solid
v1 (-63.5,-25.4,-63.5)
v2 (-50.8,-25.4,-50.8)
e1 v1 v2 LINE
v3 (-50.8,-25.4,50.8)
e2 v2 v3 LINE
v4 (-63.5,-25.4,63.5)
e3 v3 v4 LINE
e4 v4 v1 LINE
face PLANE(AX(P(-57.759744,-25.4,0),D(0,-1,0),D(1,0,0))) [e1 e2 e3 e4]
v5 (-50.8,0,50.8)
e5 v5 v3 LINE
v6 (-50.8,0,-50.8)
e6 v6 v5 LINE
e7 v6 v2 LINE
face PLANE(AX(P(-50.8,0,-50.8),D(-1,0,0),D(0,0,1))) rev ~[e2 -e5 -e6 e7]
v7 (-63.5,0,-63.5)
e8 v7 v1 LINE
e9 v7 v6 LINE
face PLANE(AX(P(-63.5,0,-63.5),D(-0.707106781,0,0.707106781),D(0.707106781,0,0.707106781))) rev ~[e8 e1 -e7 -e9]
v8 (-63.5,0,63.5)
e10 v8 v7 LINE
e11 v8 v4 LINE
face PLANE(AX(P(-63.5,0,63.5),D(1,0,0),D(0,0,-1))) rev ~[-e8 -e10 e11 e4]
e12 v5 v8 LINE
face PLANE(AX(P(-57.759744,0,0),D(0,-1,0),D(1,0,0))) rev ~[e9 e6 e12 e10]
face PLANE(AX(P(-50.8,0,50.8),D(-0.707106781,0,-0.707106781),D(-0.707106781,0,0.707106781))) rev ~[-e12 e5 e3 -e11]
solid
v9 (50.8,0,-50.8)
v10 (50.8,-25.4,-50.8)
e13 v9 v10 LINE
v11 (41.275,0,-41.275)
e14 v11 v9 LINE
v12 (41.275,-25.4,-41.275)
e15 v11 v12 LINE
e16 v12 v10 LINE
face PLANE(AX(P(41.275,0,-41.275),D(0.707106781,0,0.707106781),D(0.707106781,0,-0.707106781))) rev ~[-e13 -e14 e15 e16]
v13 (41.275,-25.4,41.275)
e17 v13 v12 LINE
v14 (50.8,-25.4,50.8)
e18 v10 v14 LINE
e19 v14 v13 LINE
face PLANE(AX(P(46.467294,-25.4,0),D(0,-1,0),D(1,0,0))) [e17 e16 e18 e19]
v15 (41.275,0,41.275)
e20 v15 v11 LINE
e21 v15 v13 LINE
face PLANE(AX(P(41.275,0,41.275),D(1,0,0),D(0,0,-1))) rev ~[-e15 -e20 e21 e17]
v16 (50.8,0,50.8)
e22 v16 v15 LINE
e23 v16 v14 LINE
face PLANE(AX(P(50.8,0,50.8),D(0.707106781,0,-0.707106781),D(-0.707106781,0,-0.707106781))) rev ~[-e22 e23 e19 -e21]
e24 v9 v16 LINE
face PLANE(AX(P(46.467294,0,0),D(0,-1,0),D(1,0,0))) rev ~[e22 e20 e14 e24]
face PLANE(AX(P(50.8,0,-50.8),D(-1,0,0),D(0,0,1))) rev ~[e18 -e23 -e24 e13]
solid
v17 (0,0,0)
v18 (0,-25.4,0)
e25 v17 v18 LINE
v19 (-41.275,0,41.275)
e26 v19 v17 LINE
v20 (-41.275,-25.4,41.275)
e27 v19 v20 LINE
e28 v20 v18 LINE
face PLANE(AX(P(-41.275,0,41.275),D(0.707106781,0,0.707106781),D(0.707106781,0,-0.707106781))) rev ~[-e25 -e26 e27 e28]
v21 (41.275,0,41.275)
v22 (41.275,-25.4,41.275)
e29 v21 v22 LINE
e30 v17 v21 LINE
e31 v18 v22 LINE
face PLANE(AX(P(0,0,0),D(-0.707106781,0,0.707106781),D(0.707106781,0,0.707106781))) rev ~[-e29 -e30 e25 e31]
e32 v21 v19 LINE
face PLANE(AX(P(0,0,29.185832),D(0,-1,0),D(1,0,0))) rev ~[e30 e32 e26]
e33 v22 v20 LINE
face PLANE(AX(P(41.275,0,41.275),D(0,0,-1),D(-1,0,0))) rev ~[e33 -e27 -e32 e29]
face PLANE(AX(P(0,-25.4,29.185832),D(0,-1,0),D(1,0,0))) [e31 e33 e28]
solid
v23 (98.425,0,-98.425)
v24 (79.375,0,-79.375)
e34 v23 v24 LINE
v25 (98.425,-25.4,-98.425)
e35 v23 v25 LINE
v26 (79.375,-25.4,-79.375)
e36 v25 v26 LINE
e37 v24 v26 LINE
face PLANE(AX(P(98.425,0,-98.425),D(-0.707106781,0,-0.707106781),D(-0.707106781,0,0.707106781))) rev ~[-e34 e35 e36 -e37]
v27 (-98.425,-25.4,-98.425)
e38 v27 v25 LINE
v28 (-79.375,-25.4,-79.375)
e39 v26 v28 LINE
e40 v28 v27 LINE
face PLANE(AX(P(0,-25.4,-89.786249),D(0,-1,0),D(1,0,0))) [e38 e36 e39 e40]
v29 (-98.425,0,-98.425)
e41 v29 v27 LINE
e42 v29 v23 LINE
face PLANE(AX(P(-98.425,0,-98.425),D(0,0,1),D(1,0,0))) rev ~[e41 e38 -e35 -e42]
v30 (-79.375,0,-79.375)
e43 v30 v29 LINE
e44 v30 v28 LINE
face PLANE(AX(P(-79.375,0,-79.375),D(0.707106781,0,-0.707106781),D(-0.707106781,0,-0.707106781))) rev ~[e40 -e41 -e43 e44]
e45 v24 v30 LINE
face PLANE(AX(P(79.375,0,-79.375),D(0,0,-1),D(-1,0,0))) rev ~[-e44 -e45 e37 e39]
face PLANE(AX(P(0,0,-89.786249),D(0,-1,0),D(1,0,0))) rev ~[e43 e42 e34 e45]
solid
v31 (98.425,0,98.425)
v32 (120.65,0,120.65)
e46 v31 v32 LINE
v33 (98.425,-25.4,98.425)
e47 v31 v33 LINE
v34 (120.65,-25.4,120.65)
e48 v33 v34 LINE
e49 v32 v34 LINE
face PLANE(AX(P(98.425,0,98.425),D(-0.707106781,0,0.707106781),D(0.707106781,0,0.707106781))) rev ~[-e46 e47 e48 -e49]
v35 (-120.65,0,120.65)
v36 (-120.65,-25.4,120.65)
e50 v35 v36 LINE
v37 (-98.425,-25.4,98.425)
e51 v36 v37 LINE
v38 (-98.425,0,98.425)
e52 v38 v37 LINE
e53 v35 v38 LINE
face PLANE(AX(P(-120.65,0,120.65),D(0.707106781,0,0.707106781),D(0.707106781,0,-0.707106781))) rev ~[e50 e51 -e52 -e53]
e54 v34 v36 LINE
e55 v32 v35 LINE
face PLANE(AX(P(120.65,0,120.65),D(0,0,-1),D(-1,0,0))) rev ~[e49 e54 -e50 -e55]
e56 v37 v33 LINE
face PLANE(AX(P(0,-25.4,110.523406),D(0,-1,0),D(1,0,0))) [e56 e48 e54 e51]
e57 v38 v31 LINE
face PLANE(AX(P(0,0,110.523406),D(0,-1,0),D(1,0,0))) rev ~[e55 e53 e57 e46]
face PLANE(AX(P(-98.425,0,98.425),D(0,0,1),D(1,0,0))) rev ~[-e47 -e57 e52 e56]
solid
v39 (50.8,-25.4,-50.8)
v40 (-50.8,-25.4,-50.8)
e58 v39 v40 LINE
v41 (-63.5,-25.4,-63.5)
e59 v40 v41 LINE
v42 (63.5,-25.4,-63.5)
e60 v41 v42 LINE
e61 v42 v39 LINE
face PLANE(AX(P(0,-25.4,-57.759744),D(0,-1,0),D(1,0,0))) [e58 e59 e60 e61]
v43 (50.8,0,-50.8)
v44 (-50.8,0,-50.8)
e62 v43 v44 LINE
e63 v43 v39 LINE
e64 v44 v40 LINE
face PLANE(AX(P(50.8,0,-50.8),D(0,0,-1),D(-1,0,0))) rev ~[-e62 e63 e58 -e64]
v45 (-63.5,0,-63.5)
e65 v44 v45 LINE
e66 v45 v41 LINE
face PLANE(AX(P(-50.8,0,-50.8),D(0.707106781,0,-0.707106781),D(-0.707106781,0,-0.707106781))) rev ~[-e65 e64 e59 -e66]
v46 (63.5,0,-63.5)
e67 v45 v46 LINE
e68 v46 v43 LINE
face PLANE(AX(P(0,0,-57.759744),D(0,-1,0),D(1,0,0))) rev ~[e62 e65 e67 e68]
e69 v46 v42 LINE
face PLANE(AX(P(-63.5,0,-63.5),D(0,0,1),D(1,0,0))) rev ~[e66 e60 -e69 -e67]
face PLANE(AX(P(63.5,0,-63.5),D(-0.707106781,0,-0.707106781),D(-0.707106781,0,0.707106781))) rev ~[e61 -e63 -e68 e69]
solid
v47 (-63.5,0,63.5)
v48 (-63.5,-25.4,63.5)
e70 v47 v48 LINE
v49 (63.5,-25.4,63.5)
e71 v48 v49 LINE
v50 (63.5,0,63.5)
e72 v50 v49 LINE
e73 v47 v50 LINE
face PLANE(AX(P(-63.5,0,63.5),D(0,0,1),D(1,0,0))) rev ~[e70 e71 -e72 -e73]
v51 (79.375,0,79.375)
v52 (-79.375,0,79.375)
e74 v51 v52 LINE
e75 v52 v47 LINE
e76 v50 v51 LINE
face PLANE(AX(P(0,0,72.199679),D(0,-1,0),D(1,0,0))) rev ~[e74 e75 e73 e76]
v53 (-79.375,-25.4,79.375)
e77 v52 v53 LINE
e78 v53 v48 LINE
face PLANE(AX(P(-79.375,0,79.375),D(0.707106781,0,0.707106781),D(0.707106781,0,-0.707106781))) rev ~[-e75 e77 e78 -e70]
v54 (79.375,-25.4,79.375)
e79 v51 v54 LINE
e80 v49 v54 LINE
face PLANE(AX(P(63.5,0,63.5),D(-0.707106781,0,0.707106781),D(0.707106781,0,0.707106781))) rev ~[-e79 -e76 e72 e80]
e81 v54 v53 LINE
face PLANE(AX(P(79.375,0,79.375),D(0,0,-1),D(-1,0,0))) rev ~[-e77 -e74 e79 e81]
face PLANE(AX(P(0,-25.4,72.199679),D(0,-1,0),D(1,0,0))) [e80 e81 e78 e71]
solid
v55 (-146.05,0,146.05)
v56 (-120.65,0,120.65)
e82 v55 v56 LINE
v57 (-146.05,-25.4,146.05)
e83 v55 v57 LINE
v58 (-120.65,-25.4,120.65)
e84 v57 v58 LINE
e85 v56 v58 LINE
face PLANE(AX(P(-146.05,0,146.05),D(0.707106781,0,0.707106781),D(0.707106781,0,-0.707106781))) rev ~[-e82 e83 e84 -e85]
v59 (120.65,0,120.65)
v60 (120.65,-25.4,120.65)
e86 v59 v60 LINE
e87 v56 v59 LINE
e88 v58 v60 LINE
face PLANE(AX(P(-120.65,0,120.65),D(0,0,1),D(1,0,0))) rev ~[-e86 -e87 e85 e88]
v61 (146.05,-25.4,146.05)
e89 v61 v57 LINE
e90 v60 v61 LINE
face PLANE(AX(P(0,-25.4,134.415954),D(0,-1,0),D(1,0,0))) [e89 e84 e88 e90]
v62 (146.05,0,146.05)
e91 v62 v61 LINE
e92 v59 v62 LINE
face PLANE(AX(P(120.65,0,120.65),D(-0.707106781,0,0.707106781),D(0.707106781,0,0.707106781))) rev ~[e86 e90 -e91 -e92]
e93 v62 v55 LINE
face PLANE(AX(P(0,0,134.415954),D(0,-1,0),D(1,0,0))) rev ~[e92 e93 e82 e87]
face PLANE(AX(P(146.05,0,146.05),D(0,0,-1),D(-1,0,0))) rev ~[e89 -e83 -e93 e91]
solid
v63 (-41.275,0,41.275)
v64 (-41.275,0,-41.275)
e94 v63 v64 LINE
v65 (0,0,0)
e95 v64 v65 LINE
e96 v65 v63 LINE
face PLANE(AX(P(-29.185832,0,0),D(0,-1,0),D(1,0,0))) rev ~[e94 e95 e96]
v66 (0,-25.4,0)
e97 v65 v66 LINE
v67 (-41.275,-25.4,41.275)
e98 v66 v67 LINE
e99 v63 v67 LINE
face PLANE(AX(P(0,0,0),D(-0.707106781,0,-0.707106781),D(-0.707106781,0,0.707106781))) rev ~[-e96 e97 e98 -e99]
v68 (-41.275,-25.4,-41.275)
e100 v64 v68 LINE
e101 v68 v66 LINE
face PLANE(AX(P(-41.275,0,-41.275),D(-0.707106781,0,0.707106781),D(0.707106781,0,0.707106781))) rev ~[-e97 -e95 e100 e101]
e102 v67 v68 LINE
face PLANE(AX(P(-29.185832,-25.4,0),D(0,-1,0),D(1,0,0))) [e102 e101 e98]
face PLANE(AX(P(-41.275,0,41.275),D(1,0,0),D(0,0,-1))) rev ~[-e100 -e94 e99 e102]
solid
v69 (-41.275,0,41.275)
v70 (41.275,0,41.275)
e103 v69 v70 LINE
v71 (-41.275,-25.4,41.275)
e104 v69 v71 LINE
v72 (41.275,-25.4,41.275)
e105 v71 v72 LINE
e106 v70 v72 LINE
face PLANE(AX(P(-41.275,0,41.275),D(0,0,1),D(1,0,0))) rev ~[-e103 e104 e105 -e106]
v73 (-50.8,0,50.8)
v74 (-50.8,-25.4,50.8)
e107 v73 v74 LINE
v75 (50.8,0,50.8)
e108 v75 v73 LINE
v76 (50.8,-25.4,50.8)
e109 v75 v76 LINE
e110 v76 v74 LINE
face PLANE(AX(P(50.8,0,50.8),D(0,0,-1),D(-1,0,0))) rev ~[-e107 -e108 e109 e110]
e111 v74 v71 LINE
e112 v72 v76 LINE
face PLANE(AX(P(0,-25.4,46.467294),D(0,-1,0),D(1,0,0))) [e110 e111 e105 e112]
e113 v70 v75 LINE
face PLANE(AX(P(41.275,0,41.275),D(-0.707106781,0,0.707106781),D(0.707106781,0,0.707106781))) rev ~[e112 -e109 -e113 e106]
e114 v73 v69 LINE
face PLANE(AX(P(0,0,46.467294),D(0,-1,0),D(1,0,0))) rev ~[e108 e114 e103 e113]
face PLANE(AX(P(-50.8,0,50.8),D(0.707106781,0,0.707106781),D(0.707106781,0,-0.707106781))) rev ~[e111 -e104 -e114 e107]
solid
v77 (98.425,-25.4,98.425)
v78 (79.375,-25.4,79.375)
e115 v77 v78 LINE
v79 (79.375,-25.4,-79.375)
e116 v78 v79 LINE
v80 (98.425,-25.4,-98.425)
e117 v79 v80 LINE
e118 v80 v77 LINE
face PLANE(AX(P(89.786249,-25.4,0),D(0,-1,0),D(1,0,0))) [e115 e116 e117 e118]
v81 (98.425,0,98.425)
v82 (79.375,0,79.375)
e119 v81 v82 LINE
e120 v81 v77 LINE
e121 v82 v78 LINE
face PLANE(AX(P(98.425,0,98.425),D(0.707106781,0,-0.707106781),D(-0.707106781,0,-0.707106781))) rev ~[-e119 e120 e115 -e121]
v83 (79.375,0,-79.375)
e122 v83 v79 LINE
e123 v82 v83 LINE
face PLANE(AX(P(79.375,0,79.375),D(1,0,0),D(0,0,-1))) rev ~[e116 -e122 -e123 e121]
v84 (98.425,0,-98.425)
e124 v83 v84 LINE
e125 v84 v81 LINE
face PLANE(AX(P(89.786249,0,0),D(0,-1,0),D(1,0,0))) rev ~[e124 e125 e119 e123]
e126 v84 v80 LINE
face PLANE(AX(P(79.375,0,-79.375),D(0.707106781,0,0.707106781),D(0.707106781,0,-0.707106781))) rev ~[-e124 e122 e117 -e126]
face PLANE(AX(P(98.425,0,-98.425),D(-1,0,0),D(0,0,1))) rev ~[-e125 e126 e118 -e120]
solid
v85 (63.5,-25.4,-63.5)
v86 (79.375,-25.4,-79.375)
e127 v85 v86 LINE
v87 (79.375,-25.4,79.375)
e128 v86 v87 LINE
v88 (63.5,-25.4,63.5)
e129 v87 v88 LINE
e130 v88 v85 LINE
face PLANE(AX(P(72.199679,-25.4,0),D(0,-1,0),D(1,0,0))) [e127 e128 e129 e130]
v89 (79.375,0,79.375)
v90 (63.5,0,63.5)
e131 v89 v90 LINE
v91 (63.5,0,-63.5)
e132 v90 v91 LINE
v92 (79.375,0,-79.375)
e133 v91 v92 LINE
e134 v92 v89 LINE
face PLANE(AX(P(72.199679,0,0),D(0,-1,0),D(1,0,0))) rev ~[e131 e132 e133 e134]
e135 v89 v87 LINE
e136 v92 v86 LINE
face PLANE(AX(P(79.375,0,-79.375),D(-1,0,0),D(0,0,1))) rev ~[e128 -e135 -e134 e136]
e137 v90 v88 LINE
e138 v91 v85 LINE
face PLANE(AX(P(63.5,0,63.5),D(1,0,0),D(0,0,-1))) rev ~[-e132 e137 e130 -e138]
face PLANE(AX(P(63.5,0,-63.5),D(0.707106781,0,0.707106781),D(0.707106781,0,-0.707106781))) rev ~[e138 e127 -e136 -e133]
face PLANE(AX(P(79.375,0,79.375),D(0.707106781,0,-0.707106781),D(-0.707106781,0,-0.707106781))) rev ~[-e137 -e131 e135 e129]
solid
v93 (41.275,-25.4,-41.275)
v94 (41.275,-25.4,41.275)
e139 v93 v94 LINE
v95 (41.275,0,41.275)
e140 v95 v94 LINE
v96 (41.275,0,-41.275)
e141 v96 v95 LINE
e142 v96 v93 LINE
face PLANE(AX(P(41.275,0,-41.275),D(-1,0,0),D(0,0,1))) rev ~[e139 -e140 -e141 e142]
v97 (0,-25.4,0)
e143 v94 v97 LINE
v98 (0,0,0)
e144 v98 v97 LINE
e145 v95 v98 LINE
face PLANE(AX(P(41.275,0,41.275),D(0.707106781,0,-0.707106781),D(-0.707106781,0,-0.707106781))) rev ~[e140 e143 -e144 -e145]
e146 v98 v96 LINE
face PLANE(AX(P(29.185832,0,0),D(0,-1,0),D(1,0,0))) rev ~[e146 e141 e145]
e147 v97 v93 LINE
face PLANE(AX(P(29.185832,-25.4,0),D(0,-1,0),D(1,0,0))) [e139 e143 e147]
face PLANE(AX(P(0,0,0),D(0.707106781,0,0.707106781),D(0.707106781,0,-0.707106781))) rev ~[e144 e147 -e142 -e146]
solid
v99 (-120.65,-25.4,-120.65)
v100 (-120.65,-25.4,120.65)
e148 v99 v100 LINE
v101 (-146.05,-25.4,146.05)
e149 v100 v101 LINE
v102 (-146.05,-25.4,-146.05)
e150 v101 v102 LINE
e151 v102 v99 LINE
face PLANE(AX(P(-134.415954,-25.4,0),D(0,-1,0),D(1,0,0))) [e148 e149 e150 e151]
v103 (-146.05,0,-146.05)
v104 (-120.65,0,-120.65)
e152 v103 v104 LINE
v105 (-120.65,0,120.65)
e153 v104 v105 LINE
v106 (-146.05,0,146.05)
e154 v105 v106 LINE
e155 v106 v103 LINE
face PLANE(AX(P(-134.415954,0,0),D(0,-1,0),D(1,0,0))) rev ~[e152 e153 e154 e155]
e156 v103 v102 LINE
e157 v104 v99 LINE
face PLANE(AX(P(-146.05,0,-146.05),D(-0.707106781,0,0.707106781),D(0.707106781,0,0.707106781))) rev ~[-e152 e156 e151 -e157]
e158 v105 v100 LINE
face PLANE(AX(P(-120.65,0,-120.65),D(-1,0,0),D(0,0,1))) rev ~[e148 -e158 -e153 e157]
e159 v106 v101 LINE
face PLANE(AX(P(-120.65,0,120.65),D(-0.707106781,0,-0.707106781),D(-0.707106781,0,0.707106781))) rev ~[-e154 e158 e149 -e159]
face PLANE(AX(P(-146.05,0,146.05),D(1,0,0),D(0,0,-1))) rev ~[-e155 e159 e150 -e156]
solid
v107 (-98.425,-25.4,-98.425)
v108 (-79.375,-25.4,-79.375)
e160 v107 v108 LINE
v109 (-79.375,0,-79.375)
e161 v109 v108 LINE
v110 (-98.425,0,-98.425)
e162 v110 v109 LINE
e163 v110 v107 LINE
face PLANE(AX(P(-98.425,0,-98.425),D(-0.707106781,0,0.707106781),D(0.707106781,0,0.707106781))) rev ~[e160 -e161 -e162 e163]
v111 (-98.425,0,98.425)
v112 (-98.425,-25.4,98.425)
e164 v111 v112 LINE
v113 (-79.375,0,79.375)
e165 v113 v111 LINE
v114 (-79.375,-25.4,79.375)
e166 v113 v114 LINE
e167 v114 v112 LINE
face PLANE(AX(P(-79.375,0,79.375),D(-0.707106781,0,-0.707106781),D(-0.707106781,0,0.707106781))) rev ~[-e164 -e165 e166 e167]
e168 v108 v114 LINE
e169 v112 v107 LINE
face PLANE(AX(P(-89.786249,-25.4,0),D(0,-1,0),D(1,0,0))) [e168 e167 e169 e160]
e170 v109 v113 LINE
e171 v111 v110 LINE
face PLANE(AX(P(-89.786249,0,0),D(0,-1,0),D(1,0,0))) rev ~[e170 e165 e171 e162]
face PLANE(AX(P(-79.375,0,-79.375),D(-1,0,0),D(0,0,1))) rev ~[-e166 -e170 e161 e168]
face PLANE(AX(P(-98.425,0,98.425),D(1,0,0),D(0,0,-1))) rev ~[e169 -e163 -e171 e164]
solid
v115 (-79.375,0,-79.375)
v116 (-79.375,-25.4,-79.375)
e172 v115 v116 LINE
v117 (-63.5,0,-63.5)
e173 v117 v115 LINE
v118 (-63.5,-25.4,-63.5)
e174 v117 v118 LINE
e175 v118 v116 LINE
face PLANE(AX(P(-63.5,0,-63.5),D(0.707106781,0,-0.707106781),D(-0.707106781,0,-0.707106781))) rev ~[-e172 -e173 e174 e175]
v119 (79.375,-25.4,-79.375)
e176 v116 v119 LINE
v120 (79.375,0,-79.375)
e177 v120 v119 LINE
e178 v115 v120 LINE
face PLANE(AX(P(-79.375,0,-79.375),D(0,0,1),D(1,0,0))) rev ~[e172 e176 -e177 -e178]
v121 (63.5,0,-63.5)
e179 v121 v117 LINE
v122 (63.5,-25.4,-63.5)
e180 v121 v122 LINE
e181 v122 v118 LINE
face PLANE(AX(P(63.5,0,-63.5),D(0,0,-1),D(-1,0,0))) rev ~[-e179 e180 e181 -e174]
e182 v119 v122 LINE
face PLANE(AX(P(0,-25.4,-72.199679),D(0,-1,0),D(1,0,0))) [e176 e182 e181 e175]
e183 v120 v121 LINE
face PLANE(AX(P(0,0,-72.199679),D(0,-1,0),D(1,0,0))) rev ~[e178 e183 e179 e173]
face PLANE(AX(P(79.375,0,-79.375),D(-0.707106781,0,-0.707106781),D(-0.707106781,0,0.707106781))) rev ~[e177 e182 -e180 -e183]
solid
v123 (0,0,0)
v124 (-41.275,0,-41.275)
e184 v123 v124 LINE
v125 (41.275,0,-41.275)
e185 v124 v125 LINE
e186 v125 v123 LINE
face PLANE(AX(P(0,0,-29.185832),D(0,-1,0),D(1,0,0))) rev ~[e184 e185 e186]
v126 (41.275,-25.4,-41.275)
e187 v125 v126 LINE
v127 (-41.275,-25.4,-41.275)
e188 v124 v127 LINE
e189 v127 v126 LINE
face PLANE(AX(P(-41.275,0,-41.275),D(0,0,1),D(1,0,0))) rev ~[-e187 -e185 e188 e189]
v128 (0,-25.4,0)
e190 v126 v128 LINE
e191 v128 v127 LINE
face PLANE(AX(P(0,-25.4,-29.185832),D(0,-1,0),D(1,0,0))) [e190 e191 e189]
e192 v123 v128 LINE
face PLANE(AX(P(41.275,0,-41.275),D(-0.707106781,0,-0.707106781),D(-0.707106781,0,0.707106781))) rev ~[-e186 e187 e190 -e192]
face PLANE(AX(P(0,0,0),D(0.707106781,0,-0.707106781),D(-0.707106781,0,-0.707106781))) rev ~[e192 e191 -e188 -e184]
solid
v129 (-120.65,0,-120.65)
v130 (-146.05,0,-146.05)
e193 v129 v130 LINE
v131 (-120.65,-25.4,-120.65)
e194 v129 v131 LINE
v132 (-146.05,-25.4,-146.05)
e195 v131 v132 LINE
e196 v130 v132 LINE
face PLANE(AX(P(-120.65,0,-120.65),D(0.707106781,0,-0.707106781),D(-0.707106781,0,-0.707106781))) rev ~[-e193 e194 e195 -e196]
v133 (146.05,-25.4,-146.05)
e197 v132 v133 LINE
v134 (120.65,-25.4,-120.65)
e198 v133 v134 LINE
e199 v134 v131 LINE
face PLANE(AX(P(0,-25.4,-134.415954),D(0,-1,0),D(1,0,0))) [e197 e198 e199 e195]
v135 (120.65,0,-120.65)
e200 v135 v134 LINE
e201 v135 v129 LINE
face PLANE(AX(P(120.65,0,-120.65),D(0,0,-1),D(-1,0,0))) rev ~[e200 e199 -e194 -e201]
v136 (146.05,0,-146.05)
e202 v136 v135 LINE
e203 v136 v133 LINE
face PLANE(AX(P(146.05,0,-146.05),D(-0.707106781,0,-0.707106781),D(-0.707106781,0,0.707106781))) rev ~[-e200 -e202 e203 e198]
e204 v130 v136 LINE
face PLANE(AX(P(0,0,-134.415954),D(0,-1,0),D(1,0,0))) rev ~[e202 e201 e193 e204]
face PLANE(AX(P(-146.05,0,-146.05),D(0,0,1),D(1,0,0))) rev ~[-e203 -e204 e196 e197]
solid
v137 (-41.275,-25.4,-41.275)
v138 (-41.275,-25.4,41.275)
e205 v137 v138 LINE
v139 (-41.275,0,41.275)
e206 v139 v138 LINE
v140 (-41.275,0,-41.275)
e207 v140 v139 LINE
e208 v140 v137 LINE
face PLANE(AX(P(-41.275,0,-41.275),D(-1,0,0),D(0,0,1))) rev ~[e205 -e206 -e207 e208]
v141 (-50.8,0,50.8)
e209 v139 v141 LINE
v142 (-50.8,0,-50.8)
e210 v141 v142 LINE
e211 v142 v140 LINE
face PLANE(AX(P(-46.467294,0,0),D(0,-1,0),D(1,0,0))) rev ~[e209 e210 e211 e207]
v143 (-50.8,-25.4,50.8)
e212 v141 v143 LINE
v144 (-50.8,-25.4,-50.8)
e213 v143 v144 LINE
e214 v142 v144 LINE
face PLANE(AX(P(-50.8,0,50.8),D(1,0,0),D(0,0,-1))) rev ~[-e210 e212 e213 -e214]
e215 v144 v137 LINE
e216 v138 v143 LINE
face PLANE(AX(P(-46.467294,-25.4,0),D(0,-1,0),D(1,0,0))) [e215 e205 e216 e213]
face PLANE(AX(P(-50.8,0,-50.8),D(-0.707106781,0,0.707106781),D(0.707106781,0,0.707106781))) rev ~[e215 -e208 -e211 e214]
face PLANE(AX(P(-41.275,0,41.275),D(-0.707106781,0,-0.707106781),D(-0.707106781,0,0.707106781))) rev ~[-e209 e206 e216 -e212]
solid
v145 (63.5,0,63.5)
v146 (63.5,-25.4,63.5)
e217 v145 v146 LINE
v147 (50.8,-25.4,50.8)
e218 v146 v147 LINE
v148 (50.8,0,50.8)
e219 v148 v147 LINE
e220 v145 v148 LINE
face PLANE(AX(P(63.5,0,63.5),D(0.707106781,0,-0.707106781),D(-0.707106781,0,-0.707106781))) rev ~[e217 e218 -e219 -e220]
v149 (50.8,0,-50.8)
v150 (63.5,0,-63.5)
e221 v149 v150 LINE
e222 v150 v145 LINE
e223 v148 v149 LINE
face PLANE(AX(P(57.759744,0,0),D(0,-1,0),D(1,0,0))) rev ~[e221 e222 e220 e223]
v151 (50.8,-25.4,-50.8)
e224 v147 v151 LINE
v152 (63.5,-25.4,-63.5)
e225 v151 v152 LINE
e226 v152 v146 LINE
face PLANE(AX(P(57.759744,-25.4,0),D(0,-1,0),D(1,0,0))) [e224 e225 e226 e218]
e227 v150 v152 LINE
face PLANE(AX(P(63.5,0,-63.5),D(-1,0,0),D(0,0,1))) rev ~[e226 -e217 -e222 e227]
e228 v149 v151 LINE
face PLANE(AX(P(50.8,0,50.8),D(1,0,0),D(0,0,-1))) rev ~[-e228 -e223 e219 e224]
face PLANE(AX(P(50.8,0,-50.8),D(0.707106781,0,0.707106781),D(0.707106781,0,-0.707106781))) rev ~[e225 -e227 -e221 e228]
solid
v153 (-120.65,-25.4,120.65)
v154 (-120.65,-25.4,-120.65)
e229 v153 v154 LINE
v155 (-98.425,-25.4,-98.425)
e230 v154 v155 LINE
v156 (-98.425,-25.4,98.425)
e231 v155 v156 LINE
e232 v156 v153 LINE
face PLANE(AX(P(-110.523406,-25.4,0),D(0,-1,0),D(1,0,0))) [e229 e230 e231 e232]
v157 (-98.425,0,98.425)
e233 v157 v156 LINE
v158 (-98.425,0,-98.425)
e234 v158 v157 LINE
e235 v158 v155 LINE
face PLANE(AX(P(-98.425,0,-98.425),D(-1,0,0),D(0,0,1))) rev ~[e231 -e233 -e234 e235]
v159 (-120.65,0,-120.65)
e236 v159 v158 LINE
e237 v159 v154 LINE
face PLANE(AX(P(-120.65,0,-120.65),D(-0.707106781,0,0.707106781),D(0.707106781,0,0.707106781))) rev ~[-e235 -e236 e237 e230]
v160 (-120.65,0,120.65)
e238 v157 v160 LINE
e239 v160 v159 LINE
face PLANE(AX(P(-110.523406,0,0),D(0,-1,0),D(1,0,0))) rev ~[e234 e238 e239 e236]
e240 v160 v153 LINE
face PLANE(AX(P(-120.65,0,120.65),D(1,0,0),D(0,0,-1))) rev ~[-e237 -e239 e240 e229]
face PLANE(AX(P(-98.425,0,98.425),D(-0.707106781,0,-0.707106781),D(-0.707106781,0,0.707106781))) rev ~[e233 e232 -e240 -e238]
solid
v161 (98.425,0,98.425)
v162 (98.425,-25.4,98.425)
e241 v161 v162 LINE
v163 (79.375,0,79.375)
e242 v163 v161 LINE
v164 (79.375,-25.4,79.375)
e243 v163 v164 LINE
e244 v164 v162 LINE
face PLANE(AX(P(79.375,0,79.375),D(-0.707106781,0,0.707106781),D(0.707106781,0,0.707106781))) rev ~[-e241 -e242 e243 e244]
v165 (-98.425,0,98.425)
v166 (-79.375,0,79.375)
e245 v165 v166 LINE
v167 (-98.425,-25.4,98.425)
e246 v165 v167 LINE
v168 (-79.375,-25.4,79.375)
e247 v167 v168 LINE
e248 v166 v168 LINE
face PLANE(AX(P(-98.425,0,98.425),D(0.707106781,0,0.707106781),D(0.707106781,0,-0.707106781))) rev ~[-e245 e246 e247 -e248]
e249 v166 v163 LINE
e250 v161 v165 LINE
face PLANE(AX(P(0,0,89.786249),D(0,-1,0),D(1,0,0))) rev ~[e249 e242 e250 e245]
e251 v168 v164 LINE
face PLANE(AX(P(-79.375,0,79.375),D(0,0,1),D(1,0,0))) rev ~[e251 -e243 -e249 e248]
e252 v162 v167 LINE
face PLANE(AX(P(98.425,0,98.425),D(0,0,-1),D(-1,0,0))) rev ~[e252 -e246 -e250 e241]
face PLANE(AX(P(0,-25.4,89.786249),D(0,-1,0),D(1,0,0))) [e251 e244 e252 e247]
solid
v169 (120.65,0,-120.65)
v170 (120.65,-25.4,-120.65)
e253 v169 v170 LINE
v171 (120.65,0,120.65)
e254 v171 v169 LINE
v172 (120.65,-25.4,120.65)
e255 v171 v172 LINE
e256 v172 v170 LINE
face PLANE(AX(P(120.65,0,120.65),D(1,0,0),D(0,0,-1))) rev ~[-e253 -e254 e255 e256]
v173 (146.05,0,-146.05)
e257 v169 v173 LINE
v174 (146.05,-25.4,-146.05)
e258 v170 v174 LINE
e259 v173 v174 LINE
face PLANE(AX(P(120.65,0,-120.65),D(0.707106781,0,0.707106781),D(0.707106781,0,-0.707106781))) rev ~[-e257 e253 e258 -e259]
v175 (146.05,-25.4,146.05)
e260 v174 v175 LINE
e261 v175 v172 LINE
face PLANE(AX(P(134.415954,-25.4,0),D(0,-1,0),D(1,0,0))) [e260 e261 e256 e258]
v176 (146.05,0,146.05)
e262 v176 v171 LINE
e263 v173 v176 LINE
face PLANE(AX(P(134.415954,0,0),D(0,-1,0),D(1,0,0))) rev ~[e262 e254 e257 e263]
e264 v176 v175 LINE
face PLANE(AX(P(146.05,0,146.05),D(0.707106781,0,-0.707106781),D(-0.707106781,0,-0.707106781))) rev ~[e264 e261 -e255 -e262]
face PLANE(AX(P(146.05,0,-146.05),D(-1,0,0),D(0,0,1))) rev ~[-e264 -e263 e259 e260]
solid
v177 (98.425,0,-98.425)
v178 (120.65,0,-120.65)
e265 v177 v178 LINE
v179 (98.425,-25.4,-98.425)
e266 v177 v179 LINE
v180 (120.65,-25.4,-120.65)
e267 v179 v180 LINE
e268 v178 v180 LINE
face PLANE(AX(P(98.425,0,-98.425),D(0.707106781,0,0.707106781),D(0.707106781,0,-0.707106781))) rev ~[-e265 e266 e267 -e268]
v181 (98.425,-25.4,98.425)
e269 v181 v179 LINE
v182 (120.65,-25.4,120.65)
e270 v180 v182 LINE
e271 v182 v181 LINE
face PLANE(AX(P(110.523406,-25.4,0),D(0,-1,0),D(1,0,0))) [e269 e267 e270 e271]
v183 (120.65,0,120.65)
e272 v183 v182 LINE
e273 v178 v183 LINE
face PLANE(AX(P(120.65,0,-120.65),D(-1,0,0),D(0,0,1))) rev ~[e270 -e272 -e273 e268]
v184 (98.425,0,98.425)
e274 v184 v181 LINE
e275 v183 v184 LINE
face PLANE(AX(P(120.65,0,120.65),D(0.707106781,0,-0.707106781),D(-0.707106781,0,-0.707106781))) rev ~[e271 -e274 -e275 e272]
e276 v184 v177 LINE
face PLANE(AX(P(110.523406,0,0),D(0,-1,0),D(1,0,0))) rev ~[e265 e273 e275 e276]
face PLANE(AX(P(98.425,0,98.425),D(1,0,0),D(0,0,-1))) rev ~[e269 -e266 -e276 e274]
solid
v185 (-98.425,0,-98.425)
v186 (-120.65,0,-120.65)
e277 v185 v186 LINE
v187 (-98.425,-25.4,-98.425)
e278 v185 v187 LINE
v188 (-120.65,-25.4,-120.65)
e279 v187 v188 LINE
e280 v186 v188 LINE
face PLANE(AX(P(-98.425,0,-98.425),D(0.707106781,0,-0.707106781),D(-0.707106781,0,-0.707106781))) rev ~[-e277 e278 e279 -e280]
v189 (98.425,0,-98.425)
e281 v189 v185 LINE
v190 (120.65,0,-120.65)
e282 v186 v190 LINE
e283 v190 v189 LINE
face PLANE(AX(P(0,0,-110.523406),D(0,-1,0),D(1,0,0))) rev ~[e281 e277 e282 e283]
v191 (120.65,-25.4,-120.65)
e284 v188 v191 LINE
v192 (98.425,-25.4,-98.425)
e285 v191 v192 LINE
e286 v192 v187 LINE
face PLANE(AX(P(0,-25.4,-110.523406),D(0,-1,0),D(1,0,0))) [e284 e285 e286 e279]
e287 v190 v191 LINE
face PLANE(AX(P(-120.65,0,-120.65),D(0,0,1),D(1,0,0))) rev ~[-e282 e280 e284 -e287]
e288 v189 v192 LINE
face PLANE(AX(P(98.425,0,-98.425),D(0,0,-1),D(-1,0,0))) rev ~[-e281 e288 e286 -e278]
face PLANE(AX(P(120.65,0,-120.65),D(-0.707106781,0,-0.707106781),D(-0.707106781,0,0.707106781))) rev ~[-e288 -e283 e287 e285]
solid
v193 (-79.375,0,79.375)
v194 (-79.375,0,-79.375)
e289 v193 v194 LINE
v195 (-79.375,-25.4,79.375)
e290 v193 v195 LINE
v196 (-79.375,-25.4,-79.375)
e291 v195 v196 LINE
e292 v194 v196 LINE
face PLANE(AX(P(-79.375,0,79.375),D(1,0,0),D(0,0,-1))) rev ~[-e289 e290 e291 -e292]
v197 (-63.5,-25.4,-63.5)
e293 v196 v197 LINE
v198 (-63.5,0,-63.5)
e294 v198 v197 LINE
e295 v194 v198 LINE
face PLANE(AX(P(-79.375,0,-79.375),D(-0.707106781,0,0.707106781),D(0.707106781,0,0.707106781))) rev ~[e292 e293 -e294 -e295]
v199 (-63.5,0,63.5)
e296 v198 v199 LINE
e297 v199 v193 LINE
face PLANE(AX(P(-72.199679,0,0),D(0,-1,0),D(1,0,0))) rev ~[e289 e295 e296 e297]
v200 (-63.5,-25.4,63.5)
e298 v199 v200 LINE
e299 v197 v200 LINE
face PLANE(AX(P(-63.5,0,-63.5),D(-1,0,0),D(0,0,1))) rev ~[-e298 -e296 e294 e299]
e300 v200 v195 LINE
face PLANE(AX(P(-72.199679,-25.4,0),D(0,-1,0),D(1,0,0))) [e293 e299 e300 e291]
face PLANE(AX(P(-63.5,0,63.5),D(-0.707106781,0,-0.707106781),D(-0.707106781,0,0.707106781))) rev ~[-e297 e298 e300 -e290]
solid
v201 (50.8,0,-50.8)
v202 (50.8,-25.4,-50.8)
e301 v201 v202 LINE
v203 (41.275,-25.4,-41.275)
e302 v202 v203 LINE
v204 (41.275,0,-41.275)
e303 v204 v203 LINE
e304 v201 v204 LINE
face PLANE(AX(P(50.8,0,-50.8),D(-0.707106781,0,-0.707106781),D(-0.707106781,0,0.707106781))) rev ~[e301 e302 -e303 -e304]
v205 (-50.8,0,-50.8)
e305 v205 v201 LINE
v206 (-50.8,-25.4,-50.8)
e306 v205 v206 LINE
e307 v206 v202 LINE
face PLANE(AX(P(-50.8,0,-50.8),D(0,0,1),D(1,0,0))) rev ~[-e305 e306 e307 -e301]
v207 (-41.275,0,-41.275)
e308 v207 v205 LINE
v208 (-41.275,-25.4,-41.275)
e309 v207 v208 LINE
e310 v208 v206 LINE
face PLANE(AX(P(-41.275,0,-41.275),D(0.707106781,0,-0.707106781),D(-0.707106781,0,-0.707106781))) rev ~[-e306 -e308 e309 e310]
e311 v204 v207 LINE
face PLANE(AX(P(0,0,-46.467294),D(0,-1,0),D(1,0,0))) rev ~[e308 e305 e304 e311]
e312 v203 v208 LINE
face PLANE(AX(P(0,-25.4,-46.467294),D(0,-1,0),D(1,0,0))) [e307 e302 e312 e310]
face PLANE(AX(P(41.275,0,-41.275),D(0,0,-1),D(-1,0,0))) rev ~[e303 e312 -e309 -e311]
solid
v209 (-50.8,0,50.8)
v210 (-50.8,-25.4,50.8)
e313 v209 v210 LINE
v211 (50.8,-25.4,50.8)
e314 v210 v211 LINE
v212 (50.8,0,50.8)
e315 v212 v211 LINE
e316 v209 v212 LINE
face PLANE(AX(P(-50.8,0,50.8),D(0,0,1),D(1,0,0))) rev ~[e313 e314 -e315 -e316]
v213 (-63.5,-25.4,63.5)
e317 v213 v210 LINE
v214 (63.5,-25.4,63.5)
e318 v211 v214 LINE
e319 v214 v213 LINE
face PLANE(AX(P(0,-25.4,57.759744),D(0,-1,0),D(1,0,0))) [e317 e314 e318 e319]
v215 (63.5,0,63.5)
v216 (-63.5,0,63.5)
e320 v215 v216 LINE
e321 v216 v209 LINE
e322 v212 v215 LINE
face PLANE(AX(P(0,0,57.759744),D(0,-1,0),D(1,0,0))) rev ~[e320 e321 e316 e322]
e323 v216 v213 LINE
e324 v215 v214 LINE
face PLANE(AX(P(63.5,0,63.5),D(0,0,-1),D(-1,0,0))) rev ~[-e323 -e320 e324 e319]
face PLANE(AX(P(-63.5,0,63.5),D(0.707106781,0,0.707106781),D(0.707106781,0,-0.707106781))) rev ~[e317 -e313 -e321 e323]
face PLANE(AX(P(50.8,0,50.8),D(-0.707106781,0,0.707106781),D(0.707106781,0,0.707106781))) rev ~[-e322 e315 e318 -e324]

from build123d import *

# Parameters (mm, degrees)
F1_DEPTH = 25.4
F2_DEPTH = 25.4


with BuildPart() as f1:
    # F0 (on Front) → F1 (new body)
    with BuildSketch(Plane.XZ):
        Polygon((120.65, 120.65), (146.05, 146.05), (-146.05, 146.05), (-120.65, 120.65), align=None)
        Polygon((79.375, 79.375), (98.425, 98.425), (-98.425, 98.425), (-79.375, 79.375), align=None)
        Polygon((50.8, 50.8), (63.5, 63.5), (-63.5, 63.5), (-50.8, 50.8), align=None)
        Polygon((0, 0), (41.275, 41.275), (-41.275, 41.275), align=None)
        Polygon((-63.5, -63.5), (63.5, -63.5), (50.8, -50.8), (-50.8, -50.8), align=None)
        Polygon((-41.275, -41.275), (41.275, -41.275), (0, 0), align=None)
        Polygon((-98.425, -98.425), (98.425, -98.425), (79.375, -79.375), (-79.375, -79.375), align=None)
        Polygon((-146.05, -146.05), (146.05, -146.05), (120.65, -120.65), (-120.65, -120.65), align=None)
        Polygon((120.65, -120.65), (120.65, 120.65), (98.425, 98.425), (98.425, -98.425), align=None)
        Polygon((79.375, -79.375), (79.375, 79.375), (63.5, 63.5), (63.5, -63.5), align=None)
        Polygon((-63.5, 63.5), (-79.375, 79.375), (-79.375, -79.375), (-63.5, -63.5), align=None)
        Polygon((-98.425, 98.425), (-120.65, 120.65), (-120.65, -120.65), (-98.425, -98.425), align=None)
        Polygon((50.8, -50.8), (50.8, 50.8), (41.275, 41.275), (41.275, -41.275), align=None)
        Polygon((-41.275, 41.275), (-50.8, 50.8), (-50.8, -50.8), (-41.275, -41.275), align=None)
    extrude(amount=F1_DEPTH)


with BuildPart() as f2:
    # F0 (on Front) → F2 (new body)
    with BuildSketch(Plane.XZ):
        Polygon((98.425, 98.425), (120.65, 120.65), (-120.65, 120.65), (-98.425, 98.425), align=None)
        Polygon((-120.65, 120.65), (-146.05, 146.05), (-146.05, -146.05), (-120.65, -120.65), align=None)
        Polygon((146.05, -146.05), (146.05, 146.05), (120.65, 120.65), (120.65, -120.65), align=None)
        Polygon((98.425, -98.425), (98.425, 98.425), (79.375, 79.375), (79.375, -79.375), align=None)
        Polygon((63.5, 63.5), (79.375, 79.375), (-79.375, 79.375), (-63.5, 63.5), align=None)
        Polygon((-79.375, 79.375), (-98.425, 98.425), (-98.425, -98.425), (-79.375, -79.375), align=None)
        Polygon((-50.8, 50.8), (-63.5, 63.5), (-63.5, -63.5), (-50.8, -50.8), align=None)
        Polygon((41.275, 41.275), (50.8, 50.8), (-50.8, 50.8), (-41.275, 41.275), align=None)
        Polygon((63.5, -63.5), (63.5, 63.5), (50.8, 50.8), (50.8, -50.8), align=None)
        Polygon((41.275, -41.275), (41.275, 41.275), (0, 0), align=None)
        Polygon((0, 0), (-41.275, 41.275), (-41.275, -41.275), align=None)
        Polygon((-50.8, -50.8), (50.8, -50.8), (41.275, -41.275), (-41.275, -41.275), align=None)
        Polygon((-79.375, -79.375), (79.375, -79.375), (63.5, -63.5), (-63.5, -63.5), align=None)
        Polygon((-120.65, -120.65), (120.65, -120.65), (98.425, -98.425), (-98.425, -98.425), align=None)
    extrude(amount=F2_DEPTH)


solid = Compound([f1.part, f2.part])
